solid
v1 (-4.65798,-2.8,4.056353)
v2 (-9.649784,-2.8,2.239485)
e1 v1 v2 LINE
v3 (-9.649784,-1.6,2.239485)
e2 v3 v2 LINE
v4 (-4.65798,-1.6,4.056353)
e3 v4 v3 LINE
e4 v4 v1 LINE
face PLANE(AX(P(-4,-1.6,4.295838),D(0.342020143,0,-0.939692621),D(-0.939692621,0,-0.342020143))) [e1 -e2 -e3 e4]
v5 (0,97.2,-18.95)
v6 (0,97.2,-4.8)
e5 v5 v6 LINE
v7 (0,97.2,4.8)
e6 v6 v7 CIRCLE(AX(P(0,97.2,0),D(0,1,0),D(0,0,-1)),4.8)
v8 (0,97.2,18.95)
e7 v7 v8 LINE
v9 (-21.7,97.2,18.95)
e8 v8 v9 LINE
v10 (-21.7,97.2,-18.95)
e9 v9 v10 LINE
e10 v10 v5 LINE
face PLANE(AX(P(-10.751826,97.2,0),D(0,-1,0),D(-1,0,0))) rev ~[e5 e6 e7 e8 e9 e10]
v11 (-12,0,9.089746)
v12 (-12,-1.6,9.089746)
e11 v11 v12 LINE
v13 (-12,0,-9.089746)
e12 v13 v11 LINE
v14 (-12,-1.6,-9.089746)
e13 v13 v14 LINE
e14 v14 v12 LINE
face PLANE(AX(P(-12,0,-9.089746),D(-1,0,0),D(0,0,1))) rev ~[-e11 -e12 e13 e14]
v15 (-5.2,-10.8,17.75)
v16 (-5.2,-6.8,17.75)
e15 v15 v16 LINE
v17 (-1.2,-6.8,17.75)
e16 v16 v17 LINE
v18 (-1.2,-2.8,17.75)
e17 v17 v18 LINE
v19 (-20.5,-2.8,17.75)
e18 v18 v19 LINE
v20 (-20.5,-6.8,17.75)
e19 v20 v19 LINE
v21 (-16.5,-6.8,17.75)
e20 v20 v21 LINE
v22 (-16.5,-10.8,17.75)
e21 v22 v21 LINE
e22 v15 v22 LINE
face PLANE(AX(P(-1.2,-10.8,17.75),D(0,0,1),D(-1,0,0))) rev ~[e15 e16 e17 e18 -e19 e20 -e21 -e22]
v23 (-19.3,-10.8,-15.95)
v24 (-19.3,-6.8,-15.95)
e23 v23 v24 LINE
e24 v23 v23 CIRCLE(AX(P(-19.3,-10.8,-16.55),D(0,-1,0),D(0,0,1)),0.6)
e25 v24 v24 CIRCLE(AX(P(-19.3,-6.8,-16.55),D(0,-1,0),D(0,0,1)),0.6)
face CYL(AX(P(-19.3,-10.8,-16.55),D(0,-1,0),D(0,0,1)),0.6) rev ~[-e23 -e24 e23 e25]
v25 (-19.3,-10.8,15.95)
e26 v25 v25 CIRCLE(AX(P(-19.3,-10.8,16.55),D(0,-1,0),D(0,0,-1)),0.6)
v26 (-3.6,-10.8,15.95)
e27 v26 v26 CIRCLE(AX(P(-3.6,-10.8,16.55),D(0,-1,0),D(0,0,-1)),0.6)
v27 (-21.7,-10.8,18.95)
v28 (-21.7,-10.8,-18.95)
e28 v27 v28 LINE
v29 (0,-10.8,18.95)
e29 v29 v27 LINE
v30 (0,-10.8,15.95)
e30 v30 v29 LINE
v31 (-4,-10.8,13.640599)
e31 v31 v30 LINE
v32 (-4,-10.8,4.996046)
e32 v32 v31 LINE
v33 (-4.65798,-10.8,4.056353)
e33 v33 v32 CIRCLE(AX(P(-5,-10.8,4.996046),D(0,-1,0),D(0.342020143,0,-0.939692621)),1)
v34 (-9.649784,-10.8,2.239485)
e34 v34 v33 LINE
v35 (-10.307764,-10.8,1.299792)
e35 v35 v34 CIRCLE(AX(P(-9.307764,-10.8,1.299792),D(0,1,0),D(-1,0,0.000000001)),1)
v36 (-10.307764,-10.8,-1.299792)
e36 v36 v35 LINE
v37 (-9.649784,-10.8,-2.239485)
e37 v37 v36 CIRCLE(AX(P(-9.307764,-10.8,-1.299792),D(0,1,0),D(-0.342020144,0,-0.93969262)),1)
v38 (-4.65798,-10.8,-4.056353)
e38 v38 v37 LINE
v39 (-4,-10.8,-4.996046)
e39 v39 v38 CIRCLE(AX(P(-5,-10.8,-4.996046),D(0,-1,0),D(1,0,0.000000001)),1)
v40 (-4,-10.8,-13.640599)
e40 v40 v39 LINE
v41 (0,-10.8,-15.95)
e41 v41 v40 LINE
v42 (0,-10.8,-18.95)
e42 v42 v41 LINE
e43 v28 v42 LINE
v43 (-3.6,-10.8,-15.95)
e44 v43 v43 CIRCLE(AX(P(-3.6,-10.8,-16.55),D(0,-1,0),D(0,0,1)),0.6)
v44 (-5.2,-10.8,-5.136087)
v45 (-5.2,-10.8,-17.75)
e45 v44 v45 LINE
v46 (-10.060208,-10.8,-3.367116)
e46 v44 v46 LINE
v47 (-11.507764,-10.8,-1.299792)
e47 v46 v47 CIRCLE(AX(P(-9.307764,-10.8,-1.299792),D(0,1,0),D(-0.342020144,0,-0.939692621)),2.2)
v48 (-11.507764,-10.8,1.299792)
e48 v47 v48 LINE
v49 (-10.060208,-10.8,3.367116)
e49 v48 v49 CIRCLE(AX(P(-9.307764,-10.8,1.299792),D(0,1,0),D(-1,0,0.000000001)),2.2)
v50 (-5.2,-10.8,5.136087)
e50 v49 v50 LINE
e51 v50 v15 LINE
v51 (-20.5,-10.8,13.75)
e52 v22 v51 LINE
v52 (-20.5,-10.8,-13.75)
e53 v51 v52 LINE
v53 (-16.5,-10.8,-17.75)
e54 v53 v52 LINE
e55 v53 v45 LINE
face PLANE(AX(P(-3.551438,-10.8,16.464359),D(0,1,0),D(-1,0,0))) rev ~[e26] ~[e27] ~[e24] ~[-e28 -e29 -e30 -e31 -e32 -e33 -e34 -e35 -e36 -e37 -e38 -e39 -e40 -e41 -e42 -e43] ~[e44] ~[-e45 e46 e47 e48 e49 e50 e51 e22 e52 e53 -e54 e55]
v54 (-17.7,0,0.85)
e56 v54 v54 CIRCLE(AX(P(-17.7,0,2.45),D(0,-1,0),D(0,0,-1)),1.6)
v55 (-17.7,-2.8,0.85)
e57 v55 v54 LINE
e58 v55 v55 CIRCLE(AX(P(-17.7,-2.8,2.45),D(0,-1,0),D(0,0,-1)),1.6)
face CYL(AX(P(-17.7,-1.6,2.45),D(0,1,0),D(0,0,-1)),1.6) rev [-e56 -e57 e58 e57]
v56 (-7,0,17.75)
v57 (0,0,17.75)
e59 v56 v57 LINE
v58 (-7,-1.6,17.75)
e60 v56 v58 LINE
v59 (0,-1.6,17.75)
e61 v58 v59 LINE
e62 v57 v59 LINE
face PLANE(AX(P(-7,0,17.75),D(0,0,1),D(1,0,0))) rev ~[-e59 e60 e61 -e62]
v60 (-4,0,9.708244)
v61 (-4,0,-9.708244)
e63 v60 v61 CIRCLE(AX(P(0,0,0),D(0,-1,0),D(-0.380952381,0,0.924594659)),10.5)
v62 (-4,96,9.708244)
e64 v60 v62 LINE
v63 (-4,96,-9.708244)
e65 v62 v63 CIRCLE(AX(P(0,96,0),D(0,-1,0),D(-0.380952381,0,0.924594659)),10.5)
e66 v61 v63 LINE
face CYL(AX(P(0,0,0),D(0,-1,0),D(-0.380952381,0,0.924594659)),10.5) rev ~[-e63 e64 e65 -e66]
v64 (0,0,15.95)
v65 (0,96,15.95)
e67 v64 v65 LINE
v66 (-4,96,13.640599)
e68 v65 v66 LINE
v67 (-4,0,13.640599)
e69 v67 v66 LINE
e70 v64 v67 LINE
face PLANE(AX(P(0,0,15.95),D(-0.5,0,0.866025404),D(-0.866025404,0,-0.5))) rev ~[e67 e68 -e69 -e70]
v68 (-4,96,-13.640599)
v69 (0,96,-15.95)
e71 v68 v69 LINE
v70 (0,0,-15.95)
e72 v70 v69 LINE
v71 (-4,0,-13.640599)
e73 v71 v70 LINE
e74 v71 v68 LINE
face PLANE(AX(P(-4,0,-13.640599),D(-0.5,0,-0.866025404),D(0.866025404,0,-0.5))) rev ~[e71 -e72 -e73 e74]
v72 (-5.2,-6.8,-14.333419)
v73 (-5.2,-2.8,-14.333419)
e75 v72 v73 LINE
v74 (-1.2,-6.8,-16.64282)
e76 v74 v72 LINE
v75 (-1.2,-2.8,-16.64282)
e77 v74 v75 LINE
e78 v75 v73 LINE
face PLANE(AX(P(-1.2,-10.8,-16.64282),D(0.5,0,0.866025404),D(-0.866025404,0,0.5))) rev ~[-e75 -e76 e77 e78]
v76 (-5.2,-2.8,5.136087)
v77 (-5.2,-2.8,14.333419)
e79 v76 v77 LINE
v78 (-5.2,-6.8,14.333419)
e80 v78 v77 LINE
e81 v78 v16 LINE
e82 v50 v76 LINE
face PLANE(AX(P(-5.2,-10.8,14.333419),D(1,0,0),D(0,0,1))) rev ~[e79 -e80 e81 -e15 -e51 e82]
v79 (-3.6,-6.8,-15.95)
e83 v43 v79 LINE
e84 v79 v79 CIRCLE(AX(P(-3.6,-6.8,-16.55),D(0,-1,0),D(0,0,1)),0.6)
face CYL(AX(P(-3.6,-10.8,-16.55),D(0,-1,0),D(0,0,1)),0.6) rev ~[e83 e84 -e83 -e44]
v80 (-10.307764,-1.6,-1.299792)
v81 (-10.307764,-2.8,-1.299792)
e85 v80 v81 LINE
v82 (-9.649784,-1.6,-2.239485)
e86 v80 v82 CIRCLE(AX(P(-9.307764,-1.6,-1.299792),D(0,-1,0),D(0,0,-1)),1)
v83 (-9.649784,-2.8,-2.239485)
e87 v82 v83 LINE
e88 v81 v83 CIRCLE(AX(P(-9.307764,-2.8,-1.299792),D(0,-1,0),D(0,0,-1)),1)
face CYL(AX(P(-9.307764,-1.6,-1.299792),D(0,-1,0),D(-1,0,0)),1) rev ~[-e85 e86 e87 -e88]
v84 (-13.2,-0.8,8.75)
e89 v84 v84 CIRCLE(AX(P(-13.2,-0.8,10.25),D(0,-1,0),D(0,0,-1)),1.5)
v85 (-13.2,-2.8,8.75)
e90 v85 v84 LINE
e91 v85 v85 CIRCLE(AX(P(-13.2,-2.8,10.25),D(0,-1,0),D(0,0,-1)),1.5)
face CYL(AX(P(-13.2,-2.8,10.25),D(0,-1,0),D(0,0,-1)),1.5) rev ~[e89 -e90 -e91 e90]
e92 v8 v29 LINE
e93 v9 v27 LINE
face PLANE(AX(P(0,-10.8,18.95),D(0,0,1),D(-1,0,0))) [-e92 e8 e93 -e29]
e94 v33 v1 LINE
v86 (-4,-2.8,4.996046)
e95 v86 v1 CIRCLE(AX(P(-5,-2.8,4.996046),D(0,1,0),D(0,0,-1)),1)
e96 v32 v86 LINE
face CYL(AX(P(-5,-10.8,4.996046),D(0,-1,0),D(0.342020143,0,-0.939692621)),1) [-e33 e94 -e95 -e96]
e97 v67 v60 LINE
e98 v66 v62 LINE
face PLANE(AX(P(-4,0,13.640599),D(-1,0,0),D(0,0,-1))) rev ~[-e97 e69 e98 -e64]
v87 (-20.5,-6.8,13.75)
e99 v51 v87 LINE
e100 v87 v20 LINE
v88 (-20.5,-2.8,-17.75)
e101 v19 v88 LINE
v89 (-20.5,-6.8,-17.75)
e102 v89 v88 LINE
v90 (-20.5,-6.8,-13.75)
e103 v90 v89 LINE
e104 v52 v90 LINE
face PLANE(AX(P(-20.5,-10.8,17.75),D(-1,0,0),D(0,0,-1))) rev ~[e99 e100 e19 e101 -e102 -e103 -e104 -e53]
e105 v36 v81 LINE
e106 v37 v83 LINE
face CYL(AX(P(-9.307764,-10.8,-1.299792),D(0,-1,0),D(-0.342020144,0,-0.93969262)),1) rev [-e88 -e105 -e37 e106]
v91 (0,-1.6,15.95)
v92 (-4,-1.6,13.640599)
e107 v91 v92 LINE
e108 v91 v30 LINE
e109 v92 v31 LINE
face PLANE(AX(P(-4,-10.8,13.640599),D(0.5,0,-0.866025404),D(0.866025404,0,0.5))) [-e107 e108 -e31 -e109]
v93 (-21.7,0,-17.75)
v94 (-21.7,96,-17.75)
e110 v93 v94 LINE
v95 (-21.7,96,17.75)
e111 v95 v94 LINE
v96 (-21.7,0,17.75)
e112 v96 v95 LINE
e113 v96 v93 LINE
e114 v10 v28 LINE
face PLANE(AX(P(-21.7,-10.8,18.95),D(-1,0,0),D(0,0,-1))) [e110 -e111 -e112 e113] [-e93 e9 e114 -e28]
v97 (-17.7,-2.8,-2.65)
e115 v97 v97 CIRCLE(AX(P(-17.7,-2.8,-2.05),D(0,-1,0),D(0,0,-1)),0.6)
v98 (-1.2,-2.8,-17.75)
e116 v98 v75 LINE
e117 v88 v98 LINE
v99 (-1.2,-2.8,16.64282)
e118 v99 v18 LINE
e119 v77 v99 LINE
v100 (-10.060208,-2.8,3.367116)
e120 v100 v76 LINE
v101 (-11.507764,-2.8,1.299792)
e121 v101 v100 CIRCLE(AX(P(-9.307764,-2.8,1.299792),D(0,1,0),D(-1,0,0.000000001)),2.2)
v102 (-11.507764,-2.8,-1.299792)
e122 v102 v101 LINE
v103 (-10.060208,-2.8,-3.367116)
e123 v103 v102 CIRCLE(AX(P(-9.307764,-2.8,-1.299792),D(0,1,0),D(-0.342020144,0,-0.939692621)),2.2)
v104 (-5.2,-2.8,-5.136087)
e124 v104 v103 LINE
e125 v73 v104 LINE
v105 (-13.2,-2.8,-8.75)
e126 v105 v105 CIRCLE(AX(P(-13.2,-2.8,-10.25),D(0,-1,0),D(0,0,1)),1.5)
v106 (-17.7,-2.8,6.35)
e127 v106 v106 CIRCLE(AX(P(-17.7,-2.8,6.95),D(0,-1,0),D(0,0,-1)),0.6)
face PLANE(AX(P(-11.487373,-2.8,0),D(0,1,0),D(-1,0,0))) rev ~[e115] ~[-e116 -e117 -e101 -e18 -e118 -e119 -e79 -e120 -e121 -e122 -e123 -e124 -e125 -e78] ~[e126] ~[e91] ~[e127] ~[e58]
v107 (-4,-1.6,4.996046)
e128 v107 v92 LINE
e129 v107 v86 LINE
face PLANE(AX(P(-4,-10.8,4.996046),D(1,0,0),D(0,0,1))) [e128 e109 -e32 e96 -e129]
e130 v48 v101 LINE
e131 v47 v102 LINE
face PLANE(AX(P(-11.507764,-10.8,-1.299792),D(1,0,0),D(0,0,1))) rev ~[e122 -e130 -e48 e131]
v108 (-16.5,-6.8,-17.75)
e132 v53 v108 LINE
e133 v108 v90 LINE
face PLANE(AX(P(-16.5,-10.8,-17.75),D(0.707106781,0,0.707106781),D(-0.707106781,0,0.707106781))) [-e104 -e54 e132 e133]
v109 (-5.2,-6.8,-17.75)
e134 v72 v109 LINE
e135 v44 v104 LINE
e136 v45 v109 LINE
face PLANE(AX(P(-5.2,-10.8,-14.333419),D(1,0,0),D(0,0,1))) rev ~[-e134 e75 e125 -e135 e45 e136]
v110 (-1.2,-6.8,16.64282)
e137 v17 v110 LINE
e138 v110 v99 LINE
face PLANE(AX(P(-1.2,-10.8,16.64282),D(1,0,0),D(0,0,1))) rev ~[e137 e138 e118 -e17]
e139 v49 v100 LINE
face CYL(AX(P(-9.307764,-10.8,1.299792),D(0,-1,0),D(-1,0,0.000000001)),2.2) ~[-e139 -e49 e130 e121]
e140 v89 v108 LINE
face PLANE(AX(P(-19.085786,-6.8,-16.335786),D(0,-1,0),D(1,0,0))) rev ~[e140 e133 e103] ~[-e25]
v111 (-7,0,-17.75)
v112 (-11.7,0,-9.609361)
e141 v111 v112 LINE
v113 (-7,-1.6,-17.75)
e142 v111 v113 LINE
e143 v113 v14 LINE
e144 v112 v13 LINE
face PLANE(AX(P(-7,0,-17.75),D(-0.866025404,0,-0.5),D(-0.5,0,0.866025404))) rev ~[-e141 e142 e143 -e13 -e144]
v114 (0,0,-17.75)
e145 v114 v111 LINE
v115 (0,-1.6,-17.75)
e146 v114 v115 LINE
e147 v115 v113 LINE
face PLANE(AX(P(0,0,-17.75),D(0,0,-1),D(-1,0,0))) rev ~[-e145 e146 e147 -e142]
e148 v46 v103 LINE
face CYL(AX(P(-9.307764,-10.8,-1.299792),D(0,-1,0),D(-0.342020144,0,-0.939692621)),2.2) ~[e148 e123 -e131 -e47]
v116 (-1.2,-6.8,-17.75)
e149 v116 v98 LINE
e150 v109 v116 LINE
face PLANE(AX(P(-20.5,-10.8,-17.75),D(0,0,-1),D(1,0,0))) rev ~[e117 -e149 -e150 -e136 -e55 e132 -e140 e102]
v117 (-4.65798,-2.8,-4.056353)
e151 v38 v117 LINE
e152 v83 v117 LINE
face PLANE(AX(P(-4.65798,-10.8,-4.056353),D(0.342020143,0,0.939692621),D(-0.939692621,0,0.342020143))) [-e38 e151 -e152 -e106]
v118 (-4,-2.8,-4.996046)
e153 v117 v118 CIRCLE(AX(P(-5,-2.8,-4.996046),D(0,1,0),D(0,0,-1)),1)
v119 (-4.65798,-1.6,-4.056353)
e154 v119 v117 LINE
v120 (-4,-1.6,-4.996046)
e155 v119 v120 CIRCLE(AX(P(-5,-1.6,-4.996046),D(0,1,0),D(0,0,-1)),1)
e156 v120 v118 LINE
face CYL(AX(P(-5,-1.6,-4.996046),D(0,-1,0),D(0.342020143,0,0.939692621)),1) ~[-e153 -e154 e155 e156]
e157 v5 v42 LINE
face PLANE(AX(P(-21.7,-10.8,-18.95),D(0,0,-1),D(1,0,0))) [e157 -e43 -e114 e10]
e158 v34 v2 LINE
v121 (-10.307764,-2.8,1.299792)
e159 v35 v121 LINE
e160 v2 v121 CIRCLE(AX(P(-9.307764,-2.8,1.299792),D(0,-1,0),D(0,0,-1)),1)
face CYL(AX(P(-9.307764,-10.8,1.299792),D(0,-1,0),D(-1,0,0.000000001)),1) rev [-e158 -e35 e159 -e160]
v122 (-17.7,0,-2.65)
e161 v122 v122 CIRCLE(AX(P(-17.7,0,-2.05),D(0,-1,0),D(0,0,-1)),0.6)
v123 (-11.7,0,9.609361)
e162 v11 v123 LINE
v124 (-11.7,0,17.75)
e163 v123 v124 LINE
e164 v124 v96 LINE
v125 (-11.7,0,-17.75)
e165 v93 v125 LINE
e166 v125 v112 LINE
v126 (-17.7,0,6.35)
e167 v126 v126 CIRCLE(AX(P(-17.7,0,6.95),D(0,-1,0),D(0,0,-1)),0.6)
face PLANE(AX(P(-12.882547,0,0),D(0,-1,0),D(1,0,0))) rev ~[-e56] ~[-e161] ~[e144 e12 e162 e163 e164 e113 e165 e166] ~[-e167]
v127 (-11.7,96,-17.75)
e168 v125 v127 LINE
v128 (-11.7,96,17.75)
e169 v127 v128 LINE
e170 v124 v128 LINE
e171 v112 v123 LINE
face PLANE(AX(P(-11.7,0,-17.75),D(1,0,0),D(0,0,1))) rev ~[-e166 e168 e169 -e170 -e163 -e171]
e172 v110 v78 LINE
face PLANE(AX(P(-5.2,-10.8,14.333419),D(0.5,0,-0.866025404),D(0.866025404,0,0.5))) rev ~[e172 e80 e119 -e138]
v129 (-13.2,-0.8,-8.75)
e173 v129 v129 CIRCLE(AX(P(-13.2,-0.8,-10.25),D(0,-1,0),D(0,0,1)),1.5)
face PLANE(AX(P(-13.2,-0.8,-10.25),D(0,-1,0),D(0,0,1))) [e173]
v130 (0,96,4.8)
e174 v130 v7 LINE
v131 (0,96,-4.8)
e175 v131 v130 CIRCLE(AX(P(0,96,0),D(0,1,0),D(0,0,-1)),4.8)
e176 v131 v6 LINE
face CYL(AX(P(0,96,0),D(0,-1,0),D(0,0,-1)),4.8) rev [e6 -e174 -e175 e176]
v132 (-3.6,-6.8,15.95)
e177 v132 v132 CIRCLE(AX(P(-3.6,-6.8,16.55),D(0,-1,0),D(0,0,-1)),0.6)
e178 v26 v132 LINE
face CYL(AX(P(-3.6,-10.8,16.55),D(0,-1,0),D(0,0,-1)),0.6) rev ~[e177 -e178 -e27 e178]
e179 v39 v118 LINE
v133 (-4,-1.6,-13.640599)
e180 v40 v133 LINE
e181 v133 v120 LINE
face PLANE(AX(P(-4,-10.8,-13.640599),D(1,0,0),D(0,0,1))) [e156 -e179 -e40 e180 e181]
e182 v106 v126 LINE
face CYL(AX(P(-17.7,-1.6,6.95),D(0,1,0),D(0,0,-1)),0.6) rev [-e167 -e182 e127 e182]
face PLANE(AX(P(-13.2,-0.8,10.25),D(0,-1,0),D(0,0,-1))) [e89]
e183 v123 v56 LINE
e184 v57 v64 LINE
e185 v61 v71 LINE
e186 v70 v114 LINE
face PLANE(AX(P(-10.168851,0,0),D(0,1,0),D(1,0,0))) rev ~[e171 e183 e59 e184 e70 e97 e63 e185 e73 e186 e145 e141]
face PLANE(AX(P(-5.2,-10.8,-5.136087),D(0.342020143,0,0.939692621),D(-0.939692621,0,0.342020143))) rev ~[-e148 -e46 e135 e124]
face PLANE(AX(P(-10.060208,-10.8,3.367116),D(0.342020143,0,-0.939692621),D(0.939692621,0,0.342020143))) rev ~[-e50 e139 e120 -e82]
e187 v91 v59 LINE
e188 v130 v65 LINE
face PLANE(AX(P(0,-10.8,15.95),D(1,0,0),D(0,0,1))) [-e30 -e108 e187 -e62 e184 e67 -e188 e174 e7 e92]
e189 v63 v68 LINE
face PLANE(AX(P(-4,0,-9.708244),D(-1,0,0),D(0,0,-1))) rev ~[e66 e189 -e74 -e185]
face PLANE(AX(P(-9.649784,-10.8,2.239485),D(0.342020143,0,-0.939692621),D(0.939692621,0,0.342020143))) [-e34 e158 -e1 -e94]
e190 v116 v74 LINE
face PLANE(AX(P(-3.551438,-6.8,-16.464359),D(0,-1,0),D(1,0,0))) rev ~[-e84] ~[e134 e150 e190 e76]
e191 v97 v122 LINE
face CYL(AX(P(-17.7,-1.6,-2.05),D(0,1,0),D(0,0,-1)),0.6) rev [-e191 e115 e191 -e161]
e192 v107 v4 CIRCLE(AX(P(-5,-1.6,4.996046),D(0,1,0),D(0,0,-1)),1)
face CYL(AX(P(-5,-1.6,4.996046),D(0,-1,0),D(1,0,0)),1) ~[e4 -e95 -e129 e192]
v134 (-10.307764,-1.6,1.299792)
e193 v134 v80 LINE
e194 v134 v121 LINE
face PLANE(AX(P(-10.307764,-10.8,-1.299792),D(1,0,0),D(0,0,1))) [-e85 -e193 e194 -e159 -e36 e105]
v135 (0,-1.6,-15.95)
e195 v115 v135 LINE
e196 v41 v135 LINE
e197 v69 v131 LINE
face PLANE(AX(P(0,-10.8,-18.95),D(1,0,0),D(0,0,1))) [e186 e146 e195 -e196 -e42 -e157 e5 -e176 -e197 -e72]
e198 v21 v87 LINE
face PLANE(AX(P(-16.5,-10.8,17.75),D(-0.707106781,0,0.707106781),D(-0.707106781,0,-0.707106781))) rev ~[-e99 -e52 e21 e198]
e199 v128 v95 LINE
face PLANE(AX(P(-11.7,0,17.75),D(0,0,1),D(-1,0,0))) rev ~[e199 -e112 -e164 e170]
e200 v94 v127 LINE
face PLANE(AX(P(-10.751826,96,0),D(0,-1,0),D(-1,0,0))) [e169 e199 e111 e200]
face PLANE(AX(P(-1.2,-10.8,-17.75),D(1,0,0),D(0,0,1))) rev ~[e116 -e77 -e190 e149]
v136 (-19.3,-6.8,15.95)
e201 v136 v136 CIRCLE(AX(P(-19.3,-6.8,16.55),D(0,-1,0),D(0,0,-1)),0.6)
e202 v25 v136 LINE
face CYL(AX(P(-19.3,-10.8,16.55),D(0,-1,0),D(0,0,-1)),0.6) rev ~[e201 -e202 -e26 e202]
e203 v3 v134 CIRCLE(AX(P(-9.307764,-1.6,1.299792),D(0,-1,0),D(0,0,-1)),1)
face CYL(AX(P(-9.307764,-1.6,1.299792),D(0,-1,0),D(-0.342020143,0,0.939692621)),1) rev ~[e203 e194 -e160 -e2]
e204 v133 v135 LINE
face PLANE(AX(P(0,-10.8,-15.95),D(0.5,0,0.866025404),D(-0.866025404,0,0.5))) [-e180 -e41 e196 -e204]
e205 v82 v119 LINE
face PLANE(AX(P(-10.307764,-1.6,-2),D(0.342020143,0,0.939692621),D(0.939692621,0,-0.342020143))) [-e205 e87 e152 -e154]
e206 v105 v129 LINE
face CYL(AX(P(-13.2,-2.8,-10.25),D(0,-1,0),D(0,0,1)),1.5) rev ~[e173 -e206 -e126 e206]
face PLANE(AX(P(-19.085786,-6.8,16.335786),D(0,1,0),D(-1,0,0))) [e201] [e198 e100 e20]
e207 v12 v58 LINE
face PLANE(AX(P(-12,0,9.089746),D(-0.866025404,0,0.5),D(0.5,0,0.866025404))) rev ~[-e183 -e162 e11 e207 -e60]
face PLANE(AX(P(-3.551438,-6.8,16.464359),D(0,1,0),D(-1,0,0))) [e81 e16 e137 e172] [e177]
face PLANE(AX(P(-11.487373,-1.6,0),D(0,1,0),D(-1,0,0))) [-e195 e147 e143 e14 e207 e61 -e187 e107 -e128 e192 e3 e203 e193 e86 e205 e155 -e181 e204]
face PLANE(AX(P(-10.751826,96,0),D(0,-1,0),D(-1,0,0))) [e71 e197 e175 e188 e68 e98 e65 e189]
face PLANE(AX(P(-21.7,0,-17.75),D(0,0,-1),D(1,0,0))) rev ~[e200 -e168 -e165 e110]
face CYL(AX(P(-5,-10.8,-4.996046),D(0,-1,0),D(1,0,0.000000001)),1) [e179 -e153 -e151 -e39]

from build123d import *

# Parameters (mm, degrees)
EXTRUDE_1_DEPTH     = 96
EXTRUDE_2_DEPTH     = 1.2
SKETCH_3_R          = 1.6
SKETCH_3_R_2        = 0.6
EXTRUDE_3_DEPTH     = 1.6
SKETCH_4_R          = 0.6
SKETCH_4_R_2        = 1.6
EXTRUDE_4_DEPTH     = 1.2
FILLET_1_R          = 1
SKETCH_5_R          = 1.5
CUT_EXTRUDE_1_DEPTH = 2
SKETCH_6_R          = 1.5
CUT_EXTRUDE_2_DEPTH = 2
EXTRUDE_START       = 8
EXTRUDE_6_DEPTH     = 8
SKETCH_10_R         = 0.6
EXTRUDE_7_DEPTH     = 4


with BuildPart() as part:
    # Эскиз1 → Бобышка-Вытянуть1 (new body)
    with BuildSketch(Plane(origin=(0, 0, 0), x_dir=(1, 0, 0), z_dir=(0, 1, 0))):
        with BuildLine():
            Line((0, -18.95), (0, -15.95))
            Line((0, -15.95), (-4, -13.640598923))
            Line((-4, -13.640598923), (-4, -9.708243919))
            ThreePointArc((-4, -9.708243919), (-10.5, 0), (-4, 9.708243919))
            Line((-4, 9.708243919), (-4, 13.640598923))
            Line((-4, 13.640598923), (0, 15.95))
            Line((0, 15.95), (0, 18.95))
            Line((0, 18.95), (-21.7, 18.95))
            Line((-21.7, 18.95), (-21.7, 17.75))
            Line((-21.7, 17.75), (-11.7, 17.75))
            Line((-11.7, 17.75), (-11.7, -17.75))
            Line((-11.7, -17.75), (-21.7, -17.75))
            Line((-21.7, -17.75), (-21.7, -18.95))
            Line((-21.7, -18.95), (0, -18.95))
        make_face()
    extrude(amount=EXTRUDE_1_DEPTH)

    # Эскиз2 → Бобышка-Вытянуть2 (add)
    with BuildSketch(Plane(origin=(0, 96, 0), x_dir=(1, 0, 0), z_dir=(0, 1, 0))):
        with BuildLine():
            Line((0, -4.8), (0, -18.95))
            Line((0, -18.95), (-21.7, -18.95))
            Line((-21.7, -18.95), (-21.7, 18.95))
            Line((-21.7, 18.95), (0, 18.95))
            Line((0, 18.95), (0, 4.8))
            ThreePointArc((0, 4.8), (-4.8, 0), (0, -4.8))
        make_face()
    extrude(amount=EXTRUDE_2_DEPTH)

    # Эскиз3 → Бобышка-Вытянуть3 (add)
    with BuildSketch(Plane.XZ):
        Polygon((0, -18.95), (0, -17.75), (-7, -17.75), (-12, -9.089745962), (-12, 9.089745962), (-7, 17.75), (0, 17.75), (0, 18.95), (-21.7, 18.95), (-21.7, -18.95), align=None)
        with Locations(Location((-17.7, 2.45, 0), (0, 0, 270))):
            Circle(SKETCH_3_R, mode=Mode.SUBTRACT)
        with Locations(Location((-17.7, -2.05, 0), (0, 0, 270))):
            Circle(SKETCH_3_R_2, mode=Mode.SUBTRACT)
        with Locations(Location((-17.7, 6.95, 0), (0, 0, 270))):
            Circle(SKETCH_3_R_2, mode=Mode.SUBTRACT)
    extrude(amount=EXTRUDE_3_DEPTH)

    # Эскиз4 → Бобышка-Вытянуть4 (add)
    with BuildSketch(Plane.XZ.offset(1.6)):
        Polygon((0, -17.75), (0, -18.95), (-21.7, -18.95), (-21.7, 18.95), (0, 18.95), (0, 17.75), (0, 15.95), (-4, 13.640598923), (-4, 9.708243919), (-4, 4.295838364), (-10.307764064, 2), (-10.307764064, -2), (-4, -4.295838364), (-4, -9.708243919), (-4, -13.640598923), (0, -15.95), align=None)
        with Locations(Location((-17.7, 6.95, 0), (0, 0, 270))):
            Circle(SKETCH_4_R, mode=Mode.SUBTRACT)
        with Locations(Location((-17.7, 2.45, 0), (0, 0, 270))):
            Circle(SKETCH_4_R_2, mode=Mode.SUBTRACT)
        with Locations(Location((-17.7, -2.05, 0), (0, 0, 270))):
            Circle(SKETCH_4_R, mode=Mode.SUBTRACT)
    extrude(amount=EXTRUDE_4_DEPTH)

    # Скругление1
    fillet_1_edges = [part.edges().sort_by_distance(p)[0] for p in [
        (-4, -2.2, -4.295838364),
        (-10.307764064, -2.2, -2),
        (-10.307764064, -2.2, 2),
        (-4, -2.2, 4.295838364),
    ]]
    fillet(fillet_1_edges, radius=FILLET_1_R)

    # Эскиз5 → Вырез-Вытянуть1 (cut)
    with BuildSketch(Plane.XZ.offset(2.8)):
        with Locations(Location((-13.2, 10.25, 0), (0, 0, 270))):
            Circle(SKETCH_5_R)
    extrude(amount=-CUT_EXTRUDE_1_DEPTH, mode=Mode.SUBTRACT)

    # Эскиз6 → Вырез-Вытянуть2 (cut)
    with BuildSketch(Plane.XZ.offset(2.8)):
        with Locations(Location((-13.2, -10.25, 0), (0, 0, 90))):
            Circle(SKETCH_6_R)
    extrude(amount=-CUT_EXTRUDE_2_DEPTH, mode=Mode.SUBTRACT)

    # Эскиз9 → Бобышка-Вытянуть6 (add)
    with BuildSketch(Plane.XZ.offset(2.8).offset(EXTRUDE_START)):
        with BuildLine():
            Line((-9.649784207, 2.239485083), (-4.657979857, 4.056353282))
            ThreePointArc((-4.657979857, 4.056353282), (-4.180847956, 4.422469466), (-4, 4.996045902))
            Line((-4, 4.996045902), (-4, 13.640598923))
            Line((-4, 13.640598923), (0, 15.95))
            Line((0, 15.95), (0, 18.95))
            Line((0, 18.95), (-21.7, 18.95))
            Line((-21.7, 18.95), (-21.7, -18.95))
            Line((-21.7, -18.95), (0, -18.95))
            Line((0, -18.95), (0, -15.95))
            Line((0, -15.95), (-4, -13.640598923))
            Line((-4, -13.640598923), (-4, -4.996045902))
            ThreePointArc((-4, -4.996045902), (-4.180847956, -4.422469466), (-4.657979857, -4.056353282))
            Line((-4.657979857, -4.056353282), (-9.649784207, -2.239485083))
            ThreePointArc((-9.649784207, -2.239485083), (-10.126916108, -1.873368898), (-10.307764064, -1.299792462))
            Line((-10.307764064, -1.299792462), (-10.307764064, 1.299792462))
            ThreePointArc((-10.307764064, 1.299792462), (-10.126916108, 1.873368898), (-9.649784207, 2.239485083))
        make_face()
        with BuildLine():
            Line((-1.2, 16.642820323), (-1.2, 17.75))
            Line((-1.2, 17.75), (-20.5, 17.75))
            Line((-20.5, 17.75), (-20.5, -17.75))
            Line((-20.5, -17.75), (-1.2, -17.75))
            Line((-1.2, -17.75), (-1.2, -16.642820323))
            Line((-1.2, -16.642820323), (-5.2, -14.333419246))
            Line((-5.2, -14.333419246), (-5.2, -5.13608741))
            Line((-5.2, -5.13608741), (-10.060208379, -3.367116228))
            ThreePointArc((-10.060208379, -3.367116228), (-11.109898561, -2.561660622), (-11.507764064, -1.299792462))
            Line((-11.507764064, -1.299792462), (-11.507764064, 1.299792462))
            ThreePointArc((-11.507764064, 1.299792462), (-11.109898561, 2.561660622), (-10.060208379, 3.367116228))
            Line((-10.060208379, 3.367116228), (-5.2, 5.13608741))
            Line((-5.2, 5.13608741), (-5.2, 14.333419246))
            Line((-5.2, 14.333419246), (-1.2, 16.642820323))
        make_face(mode=Mode.SUBTRACT)
    extrude(amount=-EXTRUDE_6_DEPTH)

    # Эскиз10 → Бобышка-Вытянуть7 (add)
    # profile 1 of 4: a face of its own
    with BuildSketch(Plane.XZ.offset(10.8)):
        Polygon((-1.2, 17.75), (-1.2, 16.642820323), (-5.2, 14.333419246), (-5.2, 17.75), align=None)
        with Locations(Location((-3.6, 16.55, 0), (0, 0, 270))):
            Circle(SKETCH_10_R, mode=Mode.SUBTRACT)
    # profile 2 of 4: a face of its own
    with BuildSketch(Plane.XZ.offset(10.8)):
        Polygon((-16.5, 17.75), (-20.5, 13.75), (-20.5, 17.75), align=None)
        with Locations(Location((-19.3, 16.55, 0), (0, 0, 270))):
            Circle(SKETCH_10_R, mode=Mode.SUBTRACT)
    # profile 3 of 4: a face of its own
    with BuildSketch(Plane.XZ.offset(10.8)):
        Polygon((-20.5, -13.75), (-20.5, -17.75), (-16.5, -17.75), align=None)
        with Locations(Location((-19.3, -16.55, 0), (0, 0, 90))):
            Circle(SKETCH_10_R, mode=Mode.SUBTRACT)
    # profile 4 of 4: a face of its own
    with BuildSketch(Plane.XZ.offset(10.8)):
        Polygon((-5.2, -14.333419246), (-5.2, -17.75), (-1.2, -17.75), (-1.2, -16.642820323), align=None)
        with Locations(Location((-3.6, -16.55, 0), (0, 0, 90))):
            Circle(SKETCH_10_R, mode=Mode.SUBTRACT)
    extrude(amount=-EXTRUDE_7_DEPTH)


solid = part.part
